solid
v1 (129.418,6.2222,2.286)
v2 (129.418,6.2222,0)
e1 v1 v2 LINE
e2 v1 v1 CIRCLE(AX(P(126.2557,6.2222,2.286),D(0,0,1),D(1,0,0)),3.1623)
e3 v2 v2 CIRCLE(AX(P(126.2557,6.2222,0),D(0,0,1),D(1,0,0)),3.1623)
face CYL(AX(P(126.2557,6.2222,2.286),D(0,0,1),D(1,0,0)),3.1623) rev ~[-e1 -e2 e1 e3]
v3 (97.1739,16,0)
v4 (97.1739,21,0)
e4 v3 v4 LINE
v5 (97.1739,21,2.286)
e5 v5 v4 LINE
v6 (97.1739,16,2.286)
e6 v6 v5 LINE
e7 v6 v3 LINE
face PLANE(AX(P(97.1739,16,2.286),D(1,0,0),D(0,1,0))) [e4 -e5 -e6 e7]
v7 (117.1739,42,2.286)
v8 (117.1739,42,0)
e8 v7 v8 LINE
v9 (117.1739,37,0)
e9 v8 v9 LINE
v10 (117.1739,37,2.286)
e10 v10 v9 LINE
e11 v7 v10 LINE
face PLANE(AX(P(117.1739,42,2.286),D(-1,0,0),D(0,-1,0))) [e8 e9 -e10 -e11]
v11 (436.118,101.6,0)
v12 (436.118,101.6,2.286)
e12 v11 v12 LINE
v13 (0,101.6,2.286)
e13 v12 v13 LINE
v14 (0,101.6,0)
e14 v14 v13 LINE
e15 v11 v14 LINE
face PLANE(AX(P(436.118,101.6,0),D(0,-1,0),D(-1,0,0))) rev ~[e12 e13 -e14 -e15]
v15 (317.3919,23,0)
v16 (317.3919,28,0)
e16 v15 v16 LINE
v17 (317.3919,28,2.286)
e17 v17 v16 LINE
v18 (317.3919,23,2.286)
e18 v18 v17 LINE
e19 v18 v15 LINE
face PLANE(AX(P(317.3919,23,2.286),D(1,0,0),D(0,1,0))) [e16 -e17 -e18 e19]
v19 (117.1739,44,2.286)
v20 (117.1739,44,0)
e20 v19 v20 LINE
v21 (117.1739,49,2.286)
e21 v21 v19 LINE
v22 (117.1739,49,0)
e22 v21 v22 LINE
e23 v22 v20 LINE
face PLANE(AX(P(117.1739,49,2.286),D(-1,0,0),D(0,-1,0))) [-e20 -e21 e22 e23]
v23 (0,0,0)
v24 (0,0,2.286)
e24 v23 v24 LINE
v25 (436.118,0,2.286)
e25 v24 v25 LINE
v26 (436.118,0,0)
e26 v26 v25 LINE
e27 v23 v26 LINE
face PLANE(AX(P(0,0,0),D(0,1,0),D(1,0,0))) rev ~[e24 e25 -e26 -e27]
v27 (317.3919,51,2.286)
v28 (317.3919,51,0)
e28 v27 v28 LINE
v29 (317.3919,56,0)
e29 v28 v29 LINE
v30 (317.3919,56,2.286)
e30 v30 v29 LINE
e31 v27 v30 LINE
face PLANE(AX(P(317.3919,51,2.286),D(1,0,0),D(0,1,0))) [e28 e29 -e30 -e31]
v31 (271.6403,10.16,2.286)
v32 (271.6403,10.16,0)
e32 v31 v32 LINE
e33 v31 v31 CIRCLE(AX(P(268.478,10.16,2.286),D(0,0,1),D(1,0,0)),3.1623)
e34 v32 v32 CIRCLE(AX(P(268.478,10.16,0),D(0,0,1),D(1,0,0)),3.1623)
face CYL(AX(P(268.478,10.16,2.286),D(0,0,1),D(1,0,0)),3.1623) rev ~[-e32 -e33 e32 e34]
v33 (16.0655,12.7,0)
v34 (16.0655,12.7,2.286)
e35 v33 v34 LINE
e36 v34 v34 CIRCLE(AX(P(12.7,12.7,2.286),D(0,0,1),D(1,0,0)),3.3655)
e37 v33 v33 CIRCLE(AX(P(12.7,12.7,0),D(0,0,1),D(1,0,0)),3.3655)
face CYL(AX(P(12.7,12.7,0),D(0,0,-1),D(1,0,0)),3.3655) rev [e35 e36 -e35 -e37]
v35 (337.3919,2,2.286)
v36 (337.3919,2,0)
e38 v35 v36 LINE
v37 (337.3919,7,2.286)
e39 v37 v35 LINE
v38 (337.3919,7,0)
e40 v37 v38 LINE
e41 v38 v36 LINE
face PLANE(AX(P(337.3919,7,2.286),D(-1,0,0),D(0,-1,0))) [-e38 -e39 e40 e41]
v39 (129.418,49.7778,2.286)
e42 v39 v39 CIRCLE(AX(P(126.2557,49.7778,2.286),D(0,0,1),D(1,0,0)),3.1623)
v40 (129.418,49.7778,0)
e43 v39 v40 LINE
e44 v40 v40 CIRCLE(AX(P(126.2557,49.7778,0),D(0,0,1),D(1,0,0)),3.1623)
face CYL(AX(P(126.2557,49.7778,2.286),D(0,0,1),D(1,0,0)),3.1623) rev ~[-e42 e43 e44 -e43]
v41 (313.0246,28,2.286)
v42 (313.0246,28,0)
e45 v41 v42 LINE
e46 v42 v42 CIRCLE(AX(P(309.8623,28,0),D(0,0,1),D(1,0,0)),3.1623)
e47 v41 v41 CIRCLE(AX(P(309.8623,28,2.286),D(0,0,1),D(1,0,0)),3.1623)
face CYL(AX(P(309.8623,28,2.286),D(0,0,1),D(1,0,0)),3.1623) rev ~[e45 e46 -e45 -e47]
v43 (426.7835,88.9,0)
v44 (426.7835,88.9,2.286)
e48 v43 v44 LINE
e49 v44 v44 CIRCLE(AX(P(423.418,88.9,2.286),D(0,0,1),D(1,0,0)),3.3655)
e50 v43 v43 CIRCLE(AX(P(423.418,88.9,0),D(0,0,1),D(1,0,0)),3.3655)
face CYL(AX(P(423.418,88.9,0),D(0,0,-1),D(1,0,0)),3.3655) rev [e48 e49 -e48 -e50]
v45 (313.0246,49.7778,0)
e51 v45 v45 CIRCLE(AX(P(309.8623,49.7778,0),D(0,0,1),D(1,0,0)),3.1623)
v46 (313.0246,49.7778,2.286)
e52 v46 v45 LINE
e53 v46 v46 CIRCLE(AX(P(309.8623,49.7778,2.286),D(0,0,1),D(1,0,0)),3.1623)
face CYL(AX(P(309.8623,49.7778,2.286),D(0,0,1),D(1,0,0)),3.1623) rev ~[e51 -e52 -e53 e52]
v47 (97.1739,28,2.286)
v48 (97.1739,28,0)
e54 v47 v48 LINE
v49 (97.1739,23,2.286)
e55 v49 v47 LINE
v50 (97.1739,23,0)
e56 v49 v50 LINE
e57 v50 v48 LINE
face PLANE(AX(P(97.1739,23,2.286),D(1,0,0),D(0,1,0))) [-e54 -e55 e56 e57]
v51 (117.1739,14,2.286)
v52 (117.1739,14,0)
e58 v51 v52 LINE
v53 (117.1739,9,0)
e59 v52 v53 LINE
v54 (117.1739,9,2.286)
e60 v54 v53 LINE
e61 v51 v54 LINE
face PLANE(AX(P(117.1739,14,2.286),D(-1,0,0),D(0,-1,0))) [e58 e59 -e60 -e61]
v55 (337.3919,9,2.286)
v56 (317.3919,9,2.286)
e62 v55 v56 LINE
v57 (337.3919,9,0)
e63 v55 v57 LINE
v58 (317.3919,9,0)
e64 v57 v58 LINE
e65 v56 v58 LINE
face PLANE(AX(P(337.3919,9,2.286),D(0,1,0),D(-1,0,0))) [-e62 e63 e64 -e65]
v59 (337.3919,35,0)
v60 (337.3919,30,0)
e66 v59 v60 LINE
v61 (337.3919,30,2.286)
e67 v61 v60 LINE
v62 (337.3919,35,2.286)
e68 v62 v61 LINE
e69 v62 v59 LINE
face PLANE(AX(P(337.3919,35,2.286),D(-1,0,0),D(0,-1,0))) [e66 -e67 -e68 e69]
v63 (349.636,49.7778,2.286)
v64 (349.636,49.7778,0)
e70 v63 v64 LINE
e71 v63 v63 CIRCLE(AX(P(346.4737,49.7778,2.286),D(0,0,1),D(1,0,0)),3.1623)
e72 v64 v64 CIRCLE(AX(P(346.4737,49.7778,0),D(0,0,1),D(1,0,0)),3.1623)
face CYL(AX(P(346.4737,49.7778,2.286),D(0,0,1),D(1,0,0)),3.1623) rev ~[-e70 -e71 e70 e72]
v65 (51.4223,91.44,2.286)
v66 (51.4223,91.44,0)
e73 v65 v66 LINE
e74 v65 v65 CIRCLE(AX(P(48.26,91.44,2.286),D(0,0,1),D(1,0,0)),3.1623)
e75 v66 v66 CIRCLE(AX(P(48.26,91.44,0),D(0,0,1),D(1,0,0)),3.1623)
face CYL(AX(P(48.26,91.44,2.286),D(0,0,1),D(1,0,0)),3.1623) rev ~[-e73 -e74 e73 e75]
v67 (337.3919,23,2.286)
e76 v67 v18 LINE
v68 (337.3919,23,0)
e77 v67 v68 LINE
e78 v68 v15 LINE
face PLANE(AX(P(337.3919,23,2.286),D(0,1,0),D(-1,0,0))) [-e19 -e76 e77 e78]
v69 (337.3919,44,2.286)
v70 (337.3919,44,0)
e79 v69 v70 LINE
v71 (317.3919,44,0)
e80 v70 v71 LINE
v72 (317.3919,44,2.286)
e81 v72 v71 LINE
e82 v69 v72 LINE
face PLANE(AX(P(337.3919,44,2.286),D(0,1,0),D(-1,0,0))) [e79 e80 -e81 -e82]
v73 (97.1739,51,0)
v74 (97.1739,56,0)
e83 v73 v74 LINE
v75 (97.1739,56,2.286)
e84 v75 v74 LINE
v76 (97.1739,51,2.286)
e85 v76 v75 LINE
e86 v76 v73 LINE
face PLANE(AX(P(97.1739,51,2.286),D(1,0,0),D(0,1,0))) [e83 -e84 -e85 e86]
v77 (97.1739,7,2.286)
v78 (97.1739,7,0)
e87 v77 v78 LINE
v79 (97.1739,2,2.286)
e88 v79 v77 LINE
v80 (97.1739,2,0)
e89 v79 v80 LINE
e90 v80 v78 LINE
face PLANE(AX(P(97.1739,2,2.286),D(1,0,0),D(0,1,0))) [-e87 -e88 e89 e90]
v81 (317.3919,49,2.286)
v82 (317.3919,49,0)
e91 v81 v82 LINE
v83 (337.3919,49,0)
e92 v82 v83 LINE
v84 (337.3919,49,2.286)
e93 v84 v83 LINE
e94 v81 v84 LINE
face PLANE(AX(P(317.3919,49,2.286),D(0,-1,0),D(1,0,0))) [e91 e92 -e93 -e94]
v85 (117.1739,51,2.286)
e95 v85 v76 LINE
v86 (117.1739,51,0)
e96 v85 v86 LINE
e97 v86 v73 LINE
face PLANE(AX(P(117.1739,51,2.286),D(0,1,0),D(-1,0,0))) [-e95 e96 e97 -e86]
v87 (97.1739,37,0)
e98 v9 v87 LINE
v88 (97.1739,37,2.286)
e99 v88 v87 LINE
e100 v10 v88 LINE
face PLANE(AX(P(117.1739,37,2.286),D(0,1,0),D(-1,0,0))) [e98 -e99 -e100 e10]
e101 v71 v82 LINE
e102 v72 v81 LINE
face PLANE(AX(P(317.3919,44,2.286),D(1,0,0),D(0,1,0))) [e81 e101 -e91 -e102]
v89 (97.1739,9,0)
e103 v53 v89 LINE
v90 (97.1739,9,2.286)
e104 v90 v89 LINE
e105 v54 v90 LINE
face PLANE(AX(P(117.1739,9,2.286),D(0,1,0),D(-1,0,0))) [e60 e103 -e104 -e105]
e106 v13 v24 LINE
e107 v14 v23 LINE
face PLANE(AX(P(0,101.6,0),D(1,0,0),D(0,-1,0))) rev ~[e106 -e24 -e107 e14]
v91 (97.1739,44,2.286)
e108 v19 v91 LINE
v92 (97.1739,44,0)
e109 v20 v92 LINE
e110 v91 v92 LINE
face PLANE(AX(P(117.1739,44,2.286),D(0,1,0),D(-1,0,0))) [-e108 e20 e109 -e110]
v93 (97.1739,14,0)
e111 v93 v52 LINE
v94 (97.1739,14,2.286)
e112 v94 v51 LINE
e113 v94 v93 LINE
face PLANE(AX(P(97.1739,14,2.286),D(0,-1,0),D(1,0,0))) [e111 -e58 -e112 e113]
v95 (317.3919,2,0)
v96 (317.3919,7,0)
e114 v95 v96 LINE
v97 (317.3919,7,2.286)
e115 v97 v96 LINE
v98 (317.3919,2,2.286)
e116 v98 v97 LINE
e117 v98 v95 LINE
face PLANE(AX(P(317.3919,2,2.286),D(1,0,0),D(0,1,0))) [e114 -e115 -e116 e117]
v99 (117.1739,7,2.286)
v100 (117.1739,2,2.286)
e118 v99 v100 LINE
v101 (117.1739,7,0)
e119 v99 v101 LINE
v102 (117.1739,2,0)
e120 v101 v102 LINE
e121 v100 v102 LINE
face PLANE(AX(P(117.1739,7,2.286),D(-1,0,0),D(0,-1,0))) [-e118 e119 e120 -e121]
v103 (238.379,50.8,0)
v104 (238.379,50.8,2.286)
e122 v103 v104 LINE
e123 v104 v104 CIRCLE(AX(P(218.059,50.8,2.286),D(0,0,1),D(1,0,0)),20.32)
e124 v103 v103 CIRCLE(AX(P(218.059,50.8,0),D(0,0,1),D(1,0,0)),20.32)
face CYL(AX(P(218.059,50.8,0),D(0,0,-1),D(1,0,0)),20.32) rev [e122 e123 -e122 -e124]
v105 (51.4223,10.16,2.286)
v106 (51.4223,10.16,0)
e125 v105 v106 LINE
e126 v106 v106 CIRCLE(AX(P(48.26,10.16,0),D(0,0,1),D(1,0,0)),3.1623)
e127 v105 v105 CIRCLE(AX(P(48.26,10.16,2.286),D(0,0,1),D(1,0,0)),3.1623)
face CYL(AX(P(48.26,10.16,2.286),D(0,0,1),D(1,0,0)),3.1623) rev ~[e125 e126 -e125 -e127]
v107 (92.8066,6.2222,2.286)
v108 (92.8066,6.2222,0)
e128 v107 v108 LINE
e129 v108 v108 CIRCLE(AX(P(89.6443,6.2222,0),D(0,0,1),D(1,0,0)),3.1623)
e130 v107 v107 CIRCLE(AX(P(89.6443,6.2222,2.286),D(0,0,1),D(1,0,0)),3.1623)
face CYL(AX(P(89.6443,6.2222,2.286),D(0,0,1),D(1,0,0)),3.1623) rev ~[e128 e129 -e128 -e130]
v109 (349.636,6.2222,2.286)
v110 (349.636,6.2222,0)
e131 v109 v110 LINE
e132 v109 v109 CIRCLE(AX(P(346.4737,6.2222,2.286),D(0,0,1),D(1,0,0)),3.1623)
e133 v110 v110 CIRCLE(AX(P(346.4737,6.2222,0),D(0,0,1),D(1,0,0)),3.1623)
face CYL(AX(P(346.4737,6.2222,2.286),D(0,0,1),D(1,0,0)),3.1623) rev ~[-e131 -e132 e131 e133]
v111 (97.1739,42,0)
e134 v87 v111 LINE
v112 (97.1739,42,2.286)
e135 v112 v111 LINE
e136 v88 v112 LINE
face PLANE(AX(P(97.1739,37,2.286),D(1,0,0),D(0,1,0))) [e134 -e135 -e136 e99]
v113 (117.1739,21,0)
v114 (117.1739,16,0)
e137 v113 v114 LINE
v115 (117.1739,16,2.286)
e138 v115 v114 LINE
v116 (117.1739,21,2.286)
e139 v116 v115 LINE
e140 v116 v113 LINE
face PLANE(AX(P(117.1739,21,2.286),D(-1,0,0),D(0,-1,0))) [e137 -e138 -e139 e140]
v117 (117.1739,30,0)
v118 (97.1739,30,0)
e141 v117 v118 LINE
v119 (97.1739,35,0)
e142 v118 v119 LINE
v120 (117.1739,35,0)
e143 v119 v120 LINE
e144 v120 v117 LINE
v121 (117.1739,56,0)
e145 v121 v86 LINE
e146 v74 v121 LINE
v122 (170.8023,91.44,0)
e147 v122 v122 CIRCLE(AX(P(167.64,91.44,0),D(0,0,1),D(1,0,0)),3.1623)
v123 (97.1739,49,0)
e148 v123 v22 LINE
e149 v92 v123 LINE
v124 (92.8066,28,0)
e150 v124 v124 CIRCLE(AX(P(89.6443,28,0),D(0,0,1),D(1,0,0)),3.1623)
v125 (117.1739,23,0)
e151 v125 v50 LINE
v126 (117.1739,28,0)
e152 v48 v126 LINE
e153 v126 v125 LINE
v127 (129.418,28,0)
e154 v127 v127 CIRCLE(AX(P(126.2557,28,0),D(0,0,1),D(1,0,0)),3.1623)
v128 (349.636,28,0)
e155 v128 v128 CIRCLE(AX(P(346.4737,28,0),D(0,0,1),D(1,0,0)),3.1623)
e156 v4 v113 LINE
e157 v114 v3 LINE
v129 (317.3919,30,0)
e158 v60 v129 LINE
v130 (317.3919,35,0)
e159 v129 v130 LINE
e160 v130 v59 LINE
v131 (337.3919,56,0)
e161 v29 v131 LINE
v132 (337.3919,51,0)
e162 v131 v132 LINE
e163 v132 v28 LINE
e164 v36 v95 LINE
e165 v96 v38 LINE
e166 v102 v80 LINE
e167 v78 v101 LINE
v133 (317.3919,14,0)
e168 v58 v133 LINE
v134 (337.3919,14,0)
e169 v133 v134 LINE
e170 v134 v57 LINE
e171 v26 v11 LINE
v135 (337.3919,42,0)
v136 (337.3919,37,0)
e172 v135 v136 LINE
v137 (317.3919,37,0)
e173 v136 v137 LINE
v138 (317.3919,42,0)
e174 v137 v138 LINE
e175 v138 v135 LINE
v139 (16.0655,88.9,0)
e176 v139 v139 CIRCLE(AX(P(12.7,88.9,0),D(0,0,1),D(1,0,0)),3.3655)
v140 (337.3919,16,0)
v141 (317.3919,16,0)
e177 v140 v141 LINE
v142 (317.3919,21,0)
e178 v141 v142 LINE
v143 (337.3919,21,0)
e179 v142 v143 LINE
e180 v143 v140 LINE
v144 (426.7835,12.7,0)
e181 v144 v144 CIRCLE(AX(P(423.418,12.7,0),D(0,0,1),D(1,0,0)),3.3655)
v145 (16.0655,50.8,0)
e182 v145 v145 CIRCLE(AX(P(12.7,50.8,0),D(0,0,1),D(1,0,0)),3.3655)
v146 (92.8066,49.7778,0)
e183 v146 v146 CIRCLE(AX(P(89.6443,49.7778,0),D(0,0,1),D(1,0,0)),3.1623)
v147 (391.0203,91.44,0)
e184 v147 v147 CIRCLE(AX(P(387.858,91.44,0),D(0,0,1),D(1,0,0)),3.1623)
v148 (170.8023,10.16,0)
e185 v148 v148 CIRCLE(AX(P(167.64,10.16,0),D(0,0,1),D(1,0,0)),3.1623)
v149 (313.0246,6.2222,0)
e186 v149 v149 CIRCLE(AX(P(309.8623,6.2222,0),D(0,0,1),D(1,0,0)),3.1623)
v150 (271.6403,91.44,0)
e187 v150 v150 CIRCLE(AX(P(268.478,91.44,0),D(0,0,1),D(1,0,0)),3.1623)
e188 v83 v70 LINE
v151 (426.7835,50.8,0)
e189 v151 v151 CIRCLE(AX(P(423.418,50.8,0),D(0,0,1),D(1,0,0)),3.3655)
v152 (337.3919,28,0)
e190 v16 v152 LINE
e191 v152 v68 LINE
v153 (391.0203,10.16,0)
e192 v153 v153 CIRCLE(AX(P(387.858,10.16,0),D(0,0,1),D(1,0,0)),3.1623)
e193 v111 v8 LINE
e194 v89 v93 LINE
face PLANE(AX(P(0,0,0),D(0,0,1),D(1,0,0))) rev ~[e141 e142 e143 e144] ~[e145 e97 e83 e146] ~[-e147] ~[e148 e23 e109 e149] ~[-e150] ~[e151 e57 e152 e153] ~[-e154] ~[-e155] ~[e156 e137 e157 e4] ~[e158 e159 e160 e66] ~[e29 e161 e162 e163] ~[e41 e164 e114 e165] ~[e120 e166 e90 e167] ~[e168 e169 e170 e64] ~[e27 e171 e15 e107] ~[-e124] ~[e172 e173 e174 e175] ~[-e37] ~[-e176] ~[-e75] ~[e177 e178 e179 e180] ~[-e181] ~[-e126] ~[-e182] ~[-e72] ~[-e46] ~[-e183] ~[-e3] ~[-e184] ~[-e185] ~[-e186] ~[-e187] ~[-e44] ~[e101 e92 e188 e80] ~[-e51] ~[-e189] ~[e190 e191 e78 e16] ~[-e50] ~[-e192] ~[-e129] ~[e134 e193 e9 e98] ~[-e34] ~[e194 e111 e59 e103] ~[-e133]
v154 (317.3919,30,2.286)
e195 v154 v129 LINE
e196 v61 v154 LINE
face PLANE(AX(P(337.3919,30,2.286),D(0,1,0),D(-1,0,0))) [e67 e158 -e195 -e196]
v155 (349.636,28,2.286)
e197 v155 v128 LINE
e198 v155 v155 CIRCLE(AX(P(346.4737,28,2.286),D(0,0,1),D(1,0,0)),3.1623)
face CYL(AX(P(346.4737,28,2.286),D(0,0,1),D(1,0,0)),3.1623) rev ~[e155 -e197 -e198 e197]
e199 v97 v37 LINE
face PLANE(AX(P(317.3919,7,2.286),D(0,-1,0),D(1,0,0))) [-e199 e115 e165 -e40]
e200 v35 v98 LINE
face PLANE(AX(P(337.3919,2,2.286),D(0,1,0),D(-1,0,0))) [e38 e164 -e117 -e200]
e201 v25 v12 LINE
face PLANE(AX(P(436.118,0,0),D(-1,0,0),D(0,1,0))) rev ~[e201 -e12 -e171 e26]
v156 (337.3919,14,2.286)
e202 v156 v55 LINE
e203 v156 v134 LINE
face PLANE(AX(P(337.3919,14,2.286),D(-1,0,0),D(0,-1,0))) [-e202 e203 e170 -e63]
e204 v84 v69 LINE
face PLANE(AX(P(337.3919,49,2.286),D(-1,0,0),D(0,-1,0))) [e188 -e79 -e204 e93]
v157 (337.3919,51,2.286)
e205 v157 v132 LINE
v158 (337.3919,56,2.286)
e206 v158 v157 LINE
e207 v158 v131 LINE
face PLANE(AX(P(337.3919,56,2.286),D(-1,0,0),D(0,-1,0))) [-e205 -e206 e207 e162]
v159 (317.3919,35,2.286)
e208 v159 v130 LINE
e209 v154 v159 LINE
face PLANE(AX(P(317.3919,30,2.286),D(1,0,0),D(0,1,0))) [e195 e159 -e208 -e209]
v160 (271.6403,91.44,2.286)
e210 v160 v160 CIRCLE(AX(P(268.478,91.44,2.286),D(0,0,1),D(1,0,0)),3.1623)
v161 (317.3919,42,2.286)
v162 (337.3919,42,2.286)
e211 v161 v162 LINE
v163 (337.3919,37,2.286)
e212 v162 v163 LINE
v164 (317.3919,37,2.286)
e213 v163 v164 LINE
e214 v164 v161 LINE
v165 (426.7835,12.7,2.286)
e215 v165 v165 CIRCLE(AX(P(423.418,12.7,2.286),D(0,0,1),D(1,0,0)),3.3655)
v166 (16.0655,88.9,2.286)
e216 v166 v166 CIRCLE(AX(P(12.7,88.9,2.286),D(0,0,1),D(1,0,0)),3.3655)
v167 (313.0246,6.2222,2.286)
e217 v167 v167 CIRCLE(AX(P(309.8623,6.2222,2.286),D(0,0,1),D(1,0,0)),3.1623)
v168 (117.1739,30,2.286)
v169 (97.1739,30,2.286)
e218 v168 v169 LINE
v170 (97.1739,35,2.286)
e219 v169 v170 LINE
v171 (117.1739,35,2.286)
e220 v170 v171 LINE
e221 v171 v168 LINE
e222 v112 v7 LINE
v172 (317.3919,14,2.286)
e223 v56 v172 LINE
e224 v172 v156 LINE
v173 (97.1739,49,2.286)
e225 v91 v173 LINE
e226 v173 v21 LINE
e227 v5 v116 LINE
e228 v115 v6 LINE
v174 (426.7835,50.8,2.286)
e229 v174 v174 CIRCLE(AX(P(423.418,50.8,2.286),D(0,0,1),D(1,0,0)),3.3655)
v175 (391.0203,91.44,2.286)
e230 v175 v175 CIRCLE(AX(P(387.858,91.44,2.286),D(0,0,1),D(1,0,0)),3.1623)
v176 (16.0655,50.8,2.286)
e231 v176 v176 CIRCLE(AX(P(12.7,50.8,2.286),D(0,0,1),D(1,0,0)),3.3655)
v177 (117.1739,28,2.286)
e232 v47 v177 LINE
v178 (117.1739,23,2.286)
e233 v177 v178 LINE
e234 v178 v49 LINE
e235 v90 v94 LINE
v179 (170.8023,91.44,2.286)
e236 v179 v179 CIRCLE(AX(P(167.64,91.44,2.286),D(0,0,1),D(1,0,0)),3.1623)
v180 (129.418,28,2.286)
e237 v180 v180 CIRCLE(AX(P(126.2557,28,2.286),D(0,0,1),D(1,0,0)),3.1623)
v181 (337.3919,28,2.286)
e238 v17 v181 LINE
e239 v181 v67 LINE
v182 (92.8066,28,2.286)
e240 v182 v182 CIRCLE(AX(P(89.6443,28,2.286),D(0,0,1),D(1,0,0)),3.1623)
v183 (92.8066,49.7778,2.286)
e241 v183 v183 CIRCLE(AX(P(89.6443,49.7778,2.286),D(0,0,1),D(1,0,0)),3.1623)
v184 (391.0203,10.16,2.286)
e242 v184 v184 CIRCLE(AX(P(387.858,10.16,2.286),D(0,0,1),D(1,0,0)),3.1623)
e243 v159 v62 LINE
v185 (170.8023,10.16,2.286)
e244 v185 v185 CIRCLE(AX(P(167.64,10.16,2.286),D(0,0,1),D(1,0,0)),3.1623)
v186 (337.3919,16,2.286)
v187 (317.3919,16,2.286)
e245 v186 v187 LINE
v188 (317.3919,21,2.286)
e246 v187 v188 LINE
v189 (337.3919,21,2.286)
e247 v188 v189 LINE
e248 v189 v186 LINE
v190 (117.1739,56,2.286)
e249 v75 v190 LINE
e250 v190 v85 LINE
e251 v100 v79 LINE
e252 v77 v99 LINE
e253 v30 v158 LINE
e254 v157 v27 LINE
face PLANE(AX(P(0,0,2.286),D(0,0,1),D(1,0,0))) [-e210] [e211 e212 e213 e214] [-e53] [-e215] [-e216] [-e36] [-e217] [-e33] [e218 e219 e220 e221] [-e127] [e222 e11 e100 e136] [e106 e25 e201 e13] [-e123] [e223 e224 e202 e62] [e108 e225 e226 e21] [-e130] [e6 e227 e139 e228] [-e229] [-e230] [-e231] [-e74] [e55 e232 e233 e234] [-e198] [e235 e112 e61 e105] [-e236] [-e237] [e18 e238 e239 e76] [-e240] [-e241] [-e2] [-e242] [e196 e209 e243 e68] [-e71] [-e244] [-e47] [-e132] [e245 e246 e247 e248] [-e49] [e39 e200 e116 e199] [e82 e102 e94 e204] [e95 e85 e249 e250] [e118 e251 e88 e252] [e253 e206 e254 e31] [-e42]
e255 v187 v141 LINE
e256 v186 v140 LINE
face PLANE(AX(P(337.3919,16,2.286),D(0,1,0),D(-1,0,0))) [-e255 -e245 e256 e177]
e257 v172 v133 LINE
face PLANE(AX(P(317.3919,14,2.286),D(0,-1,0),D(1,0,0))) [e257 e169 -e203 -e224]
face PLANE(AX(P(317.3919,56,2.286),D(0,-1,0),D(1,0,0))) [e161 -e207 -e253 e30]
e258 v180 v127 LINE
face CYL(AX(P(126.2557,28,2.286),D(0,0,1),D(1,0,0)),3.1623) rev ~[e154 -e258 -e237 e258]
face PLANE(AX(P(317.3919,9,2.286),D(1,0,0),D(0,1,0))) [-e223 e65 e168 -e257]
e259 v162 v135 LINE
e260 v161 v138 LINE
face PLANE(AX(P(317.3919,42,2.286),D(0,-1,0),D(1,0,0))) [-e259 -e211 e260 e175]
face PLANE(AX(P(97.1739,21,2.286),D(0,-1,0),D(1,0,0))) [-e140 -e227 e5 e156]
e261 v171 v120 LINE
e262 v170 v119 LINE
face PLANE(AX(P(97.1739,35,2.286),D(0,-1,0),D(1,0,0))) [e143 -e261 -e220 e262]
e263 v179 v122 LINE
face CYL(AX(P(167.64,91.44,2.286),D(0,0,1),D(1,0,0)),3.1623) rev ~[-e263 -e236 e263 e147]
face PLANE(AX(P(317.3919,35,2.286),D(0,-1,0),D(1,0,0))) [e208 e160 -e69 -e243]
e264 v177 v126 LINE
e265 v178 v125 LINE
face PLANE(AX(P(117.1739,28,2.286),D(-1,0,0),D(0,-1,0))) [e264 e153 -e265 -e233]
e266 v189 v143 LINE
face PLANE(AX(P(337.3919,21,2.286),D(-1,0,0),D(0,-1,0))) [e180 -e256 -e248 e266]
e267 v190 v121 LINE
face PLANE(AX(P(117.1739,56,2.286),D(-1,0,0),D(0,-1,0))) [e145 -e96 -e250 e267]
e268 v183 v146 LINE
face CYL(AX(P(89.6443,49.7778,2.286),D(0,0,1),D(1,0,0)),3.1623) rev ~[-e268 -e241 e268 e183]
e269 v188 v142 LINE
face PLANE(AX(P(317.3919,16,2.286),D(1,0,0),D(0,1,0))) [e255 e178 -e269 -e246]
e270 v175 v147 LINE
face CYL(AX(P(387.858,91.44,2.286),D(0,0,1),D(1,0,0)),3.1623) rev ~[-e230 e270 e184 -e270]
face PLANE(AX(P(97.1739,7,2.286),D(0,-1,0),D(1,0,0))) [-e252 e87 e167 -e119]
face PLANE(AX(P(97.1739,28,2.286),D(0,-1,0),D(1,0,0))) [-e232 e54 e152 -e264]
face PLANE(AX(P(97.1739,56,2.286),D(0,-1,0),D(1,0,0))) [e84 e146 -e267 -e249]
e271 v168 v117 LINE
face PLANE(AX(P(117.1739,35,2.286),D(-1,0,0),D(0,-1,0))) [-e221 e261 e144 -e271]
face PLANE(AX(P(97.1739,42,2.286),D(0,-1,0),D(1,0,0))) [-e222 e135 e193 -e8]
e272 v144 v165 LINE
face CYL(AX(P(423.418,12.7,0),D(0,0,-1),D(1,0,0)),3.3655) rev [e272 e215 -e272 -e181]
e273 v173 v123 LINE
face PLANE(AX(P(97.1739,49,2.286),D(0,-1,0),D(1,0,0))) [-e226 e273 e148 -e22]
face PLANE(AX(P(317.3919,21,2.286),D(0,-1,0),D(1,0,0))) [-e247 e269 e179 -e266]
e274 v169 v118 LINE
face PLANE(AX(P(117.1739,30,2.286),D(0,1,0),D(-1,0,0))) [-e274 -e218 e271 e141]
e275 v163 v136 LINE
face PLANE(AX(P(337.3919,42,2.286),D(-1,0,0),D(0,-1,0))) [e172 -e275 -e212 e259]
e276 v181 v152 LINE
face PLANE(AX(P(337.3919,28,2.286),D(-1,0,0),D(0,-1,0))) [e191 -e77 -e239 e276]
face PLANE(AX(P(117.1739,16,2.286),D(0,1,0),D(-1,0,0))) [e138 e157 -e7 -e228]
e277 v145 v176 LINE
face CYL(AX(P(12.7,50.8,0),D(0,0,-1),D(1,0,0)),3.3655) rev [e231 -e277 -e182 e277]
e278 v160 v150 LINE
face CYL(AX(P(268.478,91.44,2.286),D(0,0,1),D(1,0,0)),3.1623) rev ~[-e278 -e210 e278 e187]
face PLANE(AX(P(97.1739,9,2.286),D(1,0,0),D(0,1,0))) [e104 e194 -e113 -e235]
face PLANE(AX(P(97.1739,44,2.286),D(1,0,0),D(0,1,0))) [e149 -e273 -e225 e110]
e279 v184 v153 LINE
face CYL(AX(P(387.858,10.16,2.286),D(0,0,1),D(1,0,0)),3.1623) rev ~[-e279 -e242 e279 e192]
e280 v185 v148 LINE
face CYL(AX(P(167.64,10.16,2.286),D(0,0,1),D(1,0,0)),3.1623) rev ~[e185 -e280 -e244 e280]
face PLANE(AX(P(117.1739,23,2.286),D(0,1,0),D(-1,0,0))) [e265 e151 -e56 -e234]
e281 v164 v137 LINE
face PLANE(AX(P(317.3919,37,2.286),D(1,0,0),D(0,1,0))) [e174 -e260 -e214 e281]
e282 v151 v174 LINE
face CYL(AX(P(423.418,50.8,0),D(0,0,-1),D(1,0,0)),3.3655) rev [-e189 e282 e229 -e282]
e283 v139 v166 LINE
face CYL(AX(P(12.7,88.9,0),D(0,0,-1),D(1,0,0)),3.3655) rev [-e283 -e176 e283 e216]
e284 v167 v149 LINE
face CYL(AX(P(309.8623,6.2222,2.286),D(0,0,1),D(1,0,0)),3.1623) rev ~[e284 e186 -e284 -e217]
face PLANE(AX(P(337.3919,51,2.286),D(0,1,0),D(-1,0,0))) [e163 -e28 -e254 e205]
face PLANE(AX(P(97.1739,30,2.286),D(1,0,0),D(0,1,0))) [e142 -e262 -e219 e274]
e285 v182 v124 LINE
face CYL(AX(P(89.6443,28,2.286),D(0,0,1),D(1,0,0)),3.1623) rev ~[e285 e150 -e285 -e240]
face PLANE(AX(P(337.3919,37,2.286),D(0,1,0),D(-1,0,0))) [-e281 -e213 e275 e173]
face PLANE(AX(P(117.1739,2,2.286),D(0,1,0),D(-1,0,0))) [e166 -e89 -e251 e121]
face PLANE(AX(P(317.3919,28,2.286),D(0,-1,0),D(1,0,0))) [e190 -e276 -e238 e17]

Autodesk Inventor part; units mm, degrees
ref_plane "YZ Plane" through (0, 0, 0) normal (1, 0, 0) x (0, 1, 0)
ref_plane "XZ Plane" through (0, 0, 0) normal (0, 1, 0) x (-1, 0, 0)
ref_plane "XY Plane" through (0, 0, 0) normal (0, 0, 1) x (1, 0, 0)
sketch "Sketch1" plane through (0, 0, 0) normal (0, 0, 1) x (1, 0, 0)
  line L0 (0, 0) -> (436.118, 0)
  line L1 (436.118, 0) -> (436.118, 101.6)
  line L2 (436.118, 101.6) -> (0, 101.6)
  line L3 (0, 101.6) -> (0, 0)
  circle A0 centre (12.7, 88.9) radius 3.3655
  circle A1 centre (12.7, 50.8) radius 3.3655
  circle A2 centre (12.7, 12.7) radius 3.3655
  circle A3 centre (423.418, 88.9) radius 3.3655
  circle A4 centre (423.418, 50.8) radius 3.3655
  circle A5 centre (423.418, 12.7) radius 3.3655
  circle A6 centre (218.059, 50.8) radius 20.32
  dimension "d0" = 436.118
  dimension "d1" = 101.6
  dimension "d2" = 6.731
  dimension "d3" = 12.7
  dimension "d4" = 12.7
  dimension "d7" = 38.1
  dimension "d10" = 410.718
  dimension "d13" = 12.7
  dimension "d24" = 40.64
  dimension "d25" = 50.8
  dimension "d26" = 218.059
extrude "Extrusion1" add sketch "Sketch1" along normal blind 2.286
sketch "Sketch2" plane through (0, 0, 2.286) normal (0, 0, 1) x (1, 0, 0)
  line L0 (0, 0) -> (436.118, 0) projected
  line L1 (82.55, 0) -> (133.35, 0)
  line L2 (31.75, 101.6) -> (184.15, 101.6)
  line L3 (133.35, 0) -> (184.15, 101.6)
  line L4 (31.75, 101.6) -> (82.55, 0)
  line L5 (97.1739, 7) -> (117.1739, 7)
  line L6 (117.1739, 7) -> (117.1739, 2)
  line L7 (117.1739, 2) -> (97.1739, 2)
  line L8 (97.1739, 2) -> (97.1739, 7)
  line L9 (133.35, 0) -> (133.35, 62.4863)
  line L10 (97.1739, 14) -> (117.1739, 14)
  line L11 (117.1739, 14) -> (117.1739, 9)
  line L12 (117.1739, 9) -> (97.1739, 9)
  line L13 (97.1739, 9) -> (97.1739, 14)
  line L14 (97.1739, 21) -> (117.1739, 21)
  line L15 (117.1739, 21) -> (117.1739, 16)
  line L16 (117.1739, 16) -> (97.1739, 16)
  line L17 (97.1739, 16) -> (97.1739, 21)
  line L18 (97.1739, 28) -> (117.1739, 28)
  line L19 (117.1739, 28) -> (117.1739, 23)
  line L20 (117.1739, 23) -> (97.1739, 23)
  line L21 (97.1739, 23) -> (97.1739, 28)
  line L22 (97.1739, 35) -> (117.1739, 35)
  line L23 (117.1739, 35) -> (117.1739, 30)
  line L24 (117.1739, 30) -> (97.1739, 30)
  line L25 (97.1739, 30) -> (97.1739, 35)
  line L26 (97.1739, 42) -> (117.1739, 42)
  line L27 (117.1739, 42) -> (117.1739, 37)
  line L28 (117.1739, 37) -> (97.1739, 37)
  line L29 (97.1739, 37) -> (97.1739, 42)
  circle A0 centre (126.2557, 6.2222) radius 3.1623
  circle A1 centre (126.2557, 28) radius 3.1623
  circle A2 centre (126.2557, 49.7778) radius 3.1623
  line L30 (107.95, 0) -> (107.95, -15.6085)
  circle A3 centre (89.6443, 49.7778) radius 3.1623
  circle A4 centre (89.6443, 6.2222) radius 3.1623
  circle A5 centre (89.6443, 28) radius 3.1623
  line L31 (117.1739, 44) -> (97.1739, 44)
  line L32 (97.1739, 44) -> (97.1739, 49)
  line L33 (117.1739, 49) -> (117.1739, 44)
  line L34 (97.1739, 49) -> (117.1739, 49)
  line L35 (117.1739, 51) -> (97.1739, 51)
  line L36 (97.1739, 51) -> (97.1739, 56)
  line L37 (97.1739, 56) -> (117.1739, 56)
  line L38 (117.1739, 56) -> (117.1739, 51)
  circle A6 centre (48.26, 91.44) radius 3.1623
  circle A7 centre (167.64, 91.44) radius 3.1623
  circle A8 centre (48.26, 10.16) radius 3.1623
  circle A9 centre (167.64, 10.16) radius 3.1623
  point P0 (0, 101.6)
  dimension "d37" = 50.8
  dimension "d38" = 152.4
  dimension "d39" = 101.6
  dimension "d40" = 50.8
  dimension "d41" = 20
  dimension "d42" = 5
  dimension "d43" = 2
  dimension "d44" = 7
  dimension "d45" = 6.3246
  dimension "d46" = 6.3246
  dimension "d47" = 6.3246
  dimension "d48" = 14
  dimension "d49" = 56
  dimension "d50" = 6.2222
  dimension "d51" = 6.2222
  dimension "d52" = 28
  dimension "d53" = 6.3246
  dimension "d54" = 6.3246
  dimension "d55" = 34.29
  dimension "d56" = 34.29
  dimension "d57" = 10.16
  dimension "d58" = 10.16
  dimension "d61" = 16.1761
  dimension "d62" = 31.75
  dimension "d112" = 9.0818
  dimension "d113" = 9.0818
  dimension "d114" = 9.0818
  dimension "d115" = 6.3246
  dimension "d116" = 10.16
  dimension "d117" = 34.29
  dimension "d118" = 6.3246
  dimension "d119" = 10.16
  dimension "d120" = 34.29
extrude "Extrusion2" cut sketch "Sketch2" against normal blind 2.286 contours L5 L6 L7 L8 | L10 L11 L12 L13 | L14 L15 L16 L17 | L18 L19 L20 L21 | L22 L23 L24 L25 | L26 L27 L28 L29 | A0 | A1 | A2 | A3 | A4 | A5 | L31 L32 L34 L33 | L35 L36 L37 L38 | A6 | A7 | A8 | A9
sketch "Sketch3" plane through (0, 0, 2.286) normal (0, 0, 1) x (1, 0, 0)
  circle A0 centre (126.2557, 49.7778) radius 3.1623 projected
  line L0 (117.1739, 56) -> (117.1739, 51) projected
  line L1 (0, 0) -> (436.118, 0) projected
  line L2 (302.768, 0) -> (353.568, 0)
  line L3 (251.968, 101.6) -> (404.368, 101.6)
  line L4 (353.568, 0) -> (404.368, 101.6)
  line L5 (251.968, 101.6) -> (302.768, 0)
  line L6 (317.3919, 7) -> (337.3919, 7)
  line L7 (337.3919, 7) -> (337.3919, 2)
  line L8 (337.3919, 2) -> (317.3919, 2)
  line L9 (317.3919, 2) -> (317.3919, 7)
  line L10 (353.568, 0) -> (353.568, 62.4863)
  line L11 (317.3919, 14) -> (337.3919, 14)
  line L12 (337.3919, 14) -> (337.3919, 9)
  line L13 (337.3919, 9) -> (317.3919, 9)
  line L14 (317.3919, 9) -> (317.3919, 14)
  line L15 (317.3919, 21) -> (337.3919, 21)
  line L16 (337.3919, 21) -> (337.3919, 16)
  line L17 (337.3919, 16) -> (317.3919, 16)
  line L18 (317.3919, 16) -> (317.3919, 21)
  line L19 (317.3919, 28) -> (337.3919, 28)
  line L20 (337.3919, 28) -> (337.3919, 23)
  line L21 (337.3919, 23) -> (317.3919, 23)
  line L22 (317.3919, 23) -> (317.3919, 28)
  line L23 (317.3919, 35) -> (337.3919, 35)
  line L24 (337.3919, 35) -> (337.3919, 30)
  line L25 (337.3919, 30) -> (317.3919, 30)
  line L26 (317.3919, 30) -> (317.3919, 35)
  line L27 (317.3919, 42) -> (337.3919, 42)
  line L28 (337.3919, 42) -> (337.3919, 37)
  line L29 (337.3919, 37) -> (317.3919, 37)
  line L30 (317.3919, 37) -> (317.3919, 42)
  circle A1 centre (346.4737, 6.2222) radius 3.1623
  circle A2 centre (346.4737, 28) radius 3.1623
  circle A3 centre (346.4737, 49.7778) radius 3.1623
  line L31 (328.168, 0) -> (328.168, -15.6085)
  circle A4 centre (309.8623, 49.7778) radius 3.1623
  circle A5 centre (309.8623, 6.2222) radius 3.1623
  circle A6 centre (309.8623, 28) radius 3.1623
  line L32 (337.3919, 44) -> (317.3919, 44)
  line L33 (317.3919, 44) -> (317.3919, 49)
  line L34 (337.3919, 49) -> (337.3919, 44)
  line L35 (317.3919, 49) -> (337.3919, 49)
  line L36 (337.3919, 51) -> (317.3919, 51)
  line L37 (317.3919, 51) -> (317.3919, 56)
  line L38 (317.3919, 56) -> (337.3919, 56)
  line L39 (337.3919, 56) -> (337.3919, 51)
  circle A7 centre (268.478, 91.44) radius 3.1623
  circle A8 centre (387.858, 91.44) radius 3.1623
  circle A9 centre (268.478, 10.16) radius 3.1623
  circle A10 centre (387.858, 10.16) radius 3.1623
  point P0 (436.118, 101.6)
  dimension "d74" = 50.8
  dimension "d75" = 152.4
  dimension "d76" = 101.6
  dimension "d77" = 50.8
  dimension "d78" = 20
  dimension "d79" = 5
  dimension "d80" = 2
  dimension "d81" = 7
  dimension "d82" = 6.3246
  dimension "d83" = 6.3246
  dimension "d84" = 6.3246
  dimension "d85" = 14
  dimension "d86" = 56
  dimension "d87" = 6.2222
  dimension "d88" = 6.2222
  dimension "d89" = 28
  dimension "d90" = 6.3246
  dimension "d91" = 6.3246
  dimension "d92" = 34.29
  dimension "d93" = 34.29
  dimension "d94" = 10.16
  dimension "d95" = 10.16
  dimension "d98" = 16.1761
  dimension "d99" = 31.75
  dimension "d100" = 9.0818
  dimension "d101" = 9.0818
  dimension "d102" = 9.0818
  dimension "d103" = 9.0818
  dimension "d104" = 6.3246
  dimension "d105" = 10.16
  dimension "d106" = 34.29
  dimension "d107" = 6.3246
  dimension "d108" = 10.16
  dimension "d109" = 34.29
extrude "Extrusion3" cut sketch "Sketch3" against normal blind 6.3246 contours L6 L7 L8 L9 | L11 L12 L13 L14 | L15 L16 L17 L18 | L19 L20 L21 L22 | L23 L24 L25 L26 | L27 L28 L29 L30 | A1 | A2 | A3 | A4 | A5 | A6 | L32 L33 L35 L34 | L36 L37 L38 L39 | A7 | A8 | A9 | A10
equation "\"d26\" = 0.5 * d0"
equation "\"d46\" = d45"
equation "\"d47\" = d46"
equation "\"d50\" = 0.111111 * d49"
equation "\"d51\" = d50"
equation "\"d52\" = 0.5 * d49"
equation "\"d56\" = d55"
equation "\"d58\" = d57"
equation "\"d113\" = d112"
equation "\"d114\" = d112"
equation "\"d116\" = d57"
equation "\"d117\" = d56"
equation "\"d119\" = d58"
equation "\"d120\" = d55"
equation "\"d83\" = d82"
equation "\"d84\" = d83"
equation "\"d87\" = 0.111111 * d86"
equation "\"d88\" = d87"
equation "\"d89\" = 0.5 * d86"
equation "\"d93\" = d92"
equation "\"d95\" = d94"
equation "\"d102\" = d100"
equation "\"d103\" = d100"
equation "\"d105\" = d94"
equation "\"d106\" = d93"
equation "\"d108\" = d95"
equation "\"d109\" = d92"
equation "\"d110\" = d83"
properties part number "elevbackpltblt"
